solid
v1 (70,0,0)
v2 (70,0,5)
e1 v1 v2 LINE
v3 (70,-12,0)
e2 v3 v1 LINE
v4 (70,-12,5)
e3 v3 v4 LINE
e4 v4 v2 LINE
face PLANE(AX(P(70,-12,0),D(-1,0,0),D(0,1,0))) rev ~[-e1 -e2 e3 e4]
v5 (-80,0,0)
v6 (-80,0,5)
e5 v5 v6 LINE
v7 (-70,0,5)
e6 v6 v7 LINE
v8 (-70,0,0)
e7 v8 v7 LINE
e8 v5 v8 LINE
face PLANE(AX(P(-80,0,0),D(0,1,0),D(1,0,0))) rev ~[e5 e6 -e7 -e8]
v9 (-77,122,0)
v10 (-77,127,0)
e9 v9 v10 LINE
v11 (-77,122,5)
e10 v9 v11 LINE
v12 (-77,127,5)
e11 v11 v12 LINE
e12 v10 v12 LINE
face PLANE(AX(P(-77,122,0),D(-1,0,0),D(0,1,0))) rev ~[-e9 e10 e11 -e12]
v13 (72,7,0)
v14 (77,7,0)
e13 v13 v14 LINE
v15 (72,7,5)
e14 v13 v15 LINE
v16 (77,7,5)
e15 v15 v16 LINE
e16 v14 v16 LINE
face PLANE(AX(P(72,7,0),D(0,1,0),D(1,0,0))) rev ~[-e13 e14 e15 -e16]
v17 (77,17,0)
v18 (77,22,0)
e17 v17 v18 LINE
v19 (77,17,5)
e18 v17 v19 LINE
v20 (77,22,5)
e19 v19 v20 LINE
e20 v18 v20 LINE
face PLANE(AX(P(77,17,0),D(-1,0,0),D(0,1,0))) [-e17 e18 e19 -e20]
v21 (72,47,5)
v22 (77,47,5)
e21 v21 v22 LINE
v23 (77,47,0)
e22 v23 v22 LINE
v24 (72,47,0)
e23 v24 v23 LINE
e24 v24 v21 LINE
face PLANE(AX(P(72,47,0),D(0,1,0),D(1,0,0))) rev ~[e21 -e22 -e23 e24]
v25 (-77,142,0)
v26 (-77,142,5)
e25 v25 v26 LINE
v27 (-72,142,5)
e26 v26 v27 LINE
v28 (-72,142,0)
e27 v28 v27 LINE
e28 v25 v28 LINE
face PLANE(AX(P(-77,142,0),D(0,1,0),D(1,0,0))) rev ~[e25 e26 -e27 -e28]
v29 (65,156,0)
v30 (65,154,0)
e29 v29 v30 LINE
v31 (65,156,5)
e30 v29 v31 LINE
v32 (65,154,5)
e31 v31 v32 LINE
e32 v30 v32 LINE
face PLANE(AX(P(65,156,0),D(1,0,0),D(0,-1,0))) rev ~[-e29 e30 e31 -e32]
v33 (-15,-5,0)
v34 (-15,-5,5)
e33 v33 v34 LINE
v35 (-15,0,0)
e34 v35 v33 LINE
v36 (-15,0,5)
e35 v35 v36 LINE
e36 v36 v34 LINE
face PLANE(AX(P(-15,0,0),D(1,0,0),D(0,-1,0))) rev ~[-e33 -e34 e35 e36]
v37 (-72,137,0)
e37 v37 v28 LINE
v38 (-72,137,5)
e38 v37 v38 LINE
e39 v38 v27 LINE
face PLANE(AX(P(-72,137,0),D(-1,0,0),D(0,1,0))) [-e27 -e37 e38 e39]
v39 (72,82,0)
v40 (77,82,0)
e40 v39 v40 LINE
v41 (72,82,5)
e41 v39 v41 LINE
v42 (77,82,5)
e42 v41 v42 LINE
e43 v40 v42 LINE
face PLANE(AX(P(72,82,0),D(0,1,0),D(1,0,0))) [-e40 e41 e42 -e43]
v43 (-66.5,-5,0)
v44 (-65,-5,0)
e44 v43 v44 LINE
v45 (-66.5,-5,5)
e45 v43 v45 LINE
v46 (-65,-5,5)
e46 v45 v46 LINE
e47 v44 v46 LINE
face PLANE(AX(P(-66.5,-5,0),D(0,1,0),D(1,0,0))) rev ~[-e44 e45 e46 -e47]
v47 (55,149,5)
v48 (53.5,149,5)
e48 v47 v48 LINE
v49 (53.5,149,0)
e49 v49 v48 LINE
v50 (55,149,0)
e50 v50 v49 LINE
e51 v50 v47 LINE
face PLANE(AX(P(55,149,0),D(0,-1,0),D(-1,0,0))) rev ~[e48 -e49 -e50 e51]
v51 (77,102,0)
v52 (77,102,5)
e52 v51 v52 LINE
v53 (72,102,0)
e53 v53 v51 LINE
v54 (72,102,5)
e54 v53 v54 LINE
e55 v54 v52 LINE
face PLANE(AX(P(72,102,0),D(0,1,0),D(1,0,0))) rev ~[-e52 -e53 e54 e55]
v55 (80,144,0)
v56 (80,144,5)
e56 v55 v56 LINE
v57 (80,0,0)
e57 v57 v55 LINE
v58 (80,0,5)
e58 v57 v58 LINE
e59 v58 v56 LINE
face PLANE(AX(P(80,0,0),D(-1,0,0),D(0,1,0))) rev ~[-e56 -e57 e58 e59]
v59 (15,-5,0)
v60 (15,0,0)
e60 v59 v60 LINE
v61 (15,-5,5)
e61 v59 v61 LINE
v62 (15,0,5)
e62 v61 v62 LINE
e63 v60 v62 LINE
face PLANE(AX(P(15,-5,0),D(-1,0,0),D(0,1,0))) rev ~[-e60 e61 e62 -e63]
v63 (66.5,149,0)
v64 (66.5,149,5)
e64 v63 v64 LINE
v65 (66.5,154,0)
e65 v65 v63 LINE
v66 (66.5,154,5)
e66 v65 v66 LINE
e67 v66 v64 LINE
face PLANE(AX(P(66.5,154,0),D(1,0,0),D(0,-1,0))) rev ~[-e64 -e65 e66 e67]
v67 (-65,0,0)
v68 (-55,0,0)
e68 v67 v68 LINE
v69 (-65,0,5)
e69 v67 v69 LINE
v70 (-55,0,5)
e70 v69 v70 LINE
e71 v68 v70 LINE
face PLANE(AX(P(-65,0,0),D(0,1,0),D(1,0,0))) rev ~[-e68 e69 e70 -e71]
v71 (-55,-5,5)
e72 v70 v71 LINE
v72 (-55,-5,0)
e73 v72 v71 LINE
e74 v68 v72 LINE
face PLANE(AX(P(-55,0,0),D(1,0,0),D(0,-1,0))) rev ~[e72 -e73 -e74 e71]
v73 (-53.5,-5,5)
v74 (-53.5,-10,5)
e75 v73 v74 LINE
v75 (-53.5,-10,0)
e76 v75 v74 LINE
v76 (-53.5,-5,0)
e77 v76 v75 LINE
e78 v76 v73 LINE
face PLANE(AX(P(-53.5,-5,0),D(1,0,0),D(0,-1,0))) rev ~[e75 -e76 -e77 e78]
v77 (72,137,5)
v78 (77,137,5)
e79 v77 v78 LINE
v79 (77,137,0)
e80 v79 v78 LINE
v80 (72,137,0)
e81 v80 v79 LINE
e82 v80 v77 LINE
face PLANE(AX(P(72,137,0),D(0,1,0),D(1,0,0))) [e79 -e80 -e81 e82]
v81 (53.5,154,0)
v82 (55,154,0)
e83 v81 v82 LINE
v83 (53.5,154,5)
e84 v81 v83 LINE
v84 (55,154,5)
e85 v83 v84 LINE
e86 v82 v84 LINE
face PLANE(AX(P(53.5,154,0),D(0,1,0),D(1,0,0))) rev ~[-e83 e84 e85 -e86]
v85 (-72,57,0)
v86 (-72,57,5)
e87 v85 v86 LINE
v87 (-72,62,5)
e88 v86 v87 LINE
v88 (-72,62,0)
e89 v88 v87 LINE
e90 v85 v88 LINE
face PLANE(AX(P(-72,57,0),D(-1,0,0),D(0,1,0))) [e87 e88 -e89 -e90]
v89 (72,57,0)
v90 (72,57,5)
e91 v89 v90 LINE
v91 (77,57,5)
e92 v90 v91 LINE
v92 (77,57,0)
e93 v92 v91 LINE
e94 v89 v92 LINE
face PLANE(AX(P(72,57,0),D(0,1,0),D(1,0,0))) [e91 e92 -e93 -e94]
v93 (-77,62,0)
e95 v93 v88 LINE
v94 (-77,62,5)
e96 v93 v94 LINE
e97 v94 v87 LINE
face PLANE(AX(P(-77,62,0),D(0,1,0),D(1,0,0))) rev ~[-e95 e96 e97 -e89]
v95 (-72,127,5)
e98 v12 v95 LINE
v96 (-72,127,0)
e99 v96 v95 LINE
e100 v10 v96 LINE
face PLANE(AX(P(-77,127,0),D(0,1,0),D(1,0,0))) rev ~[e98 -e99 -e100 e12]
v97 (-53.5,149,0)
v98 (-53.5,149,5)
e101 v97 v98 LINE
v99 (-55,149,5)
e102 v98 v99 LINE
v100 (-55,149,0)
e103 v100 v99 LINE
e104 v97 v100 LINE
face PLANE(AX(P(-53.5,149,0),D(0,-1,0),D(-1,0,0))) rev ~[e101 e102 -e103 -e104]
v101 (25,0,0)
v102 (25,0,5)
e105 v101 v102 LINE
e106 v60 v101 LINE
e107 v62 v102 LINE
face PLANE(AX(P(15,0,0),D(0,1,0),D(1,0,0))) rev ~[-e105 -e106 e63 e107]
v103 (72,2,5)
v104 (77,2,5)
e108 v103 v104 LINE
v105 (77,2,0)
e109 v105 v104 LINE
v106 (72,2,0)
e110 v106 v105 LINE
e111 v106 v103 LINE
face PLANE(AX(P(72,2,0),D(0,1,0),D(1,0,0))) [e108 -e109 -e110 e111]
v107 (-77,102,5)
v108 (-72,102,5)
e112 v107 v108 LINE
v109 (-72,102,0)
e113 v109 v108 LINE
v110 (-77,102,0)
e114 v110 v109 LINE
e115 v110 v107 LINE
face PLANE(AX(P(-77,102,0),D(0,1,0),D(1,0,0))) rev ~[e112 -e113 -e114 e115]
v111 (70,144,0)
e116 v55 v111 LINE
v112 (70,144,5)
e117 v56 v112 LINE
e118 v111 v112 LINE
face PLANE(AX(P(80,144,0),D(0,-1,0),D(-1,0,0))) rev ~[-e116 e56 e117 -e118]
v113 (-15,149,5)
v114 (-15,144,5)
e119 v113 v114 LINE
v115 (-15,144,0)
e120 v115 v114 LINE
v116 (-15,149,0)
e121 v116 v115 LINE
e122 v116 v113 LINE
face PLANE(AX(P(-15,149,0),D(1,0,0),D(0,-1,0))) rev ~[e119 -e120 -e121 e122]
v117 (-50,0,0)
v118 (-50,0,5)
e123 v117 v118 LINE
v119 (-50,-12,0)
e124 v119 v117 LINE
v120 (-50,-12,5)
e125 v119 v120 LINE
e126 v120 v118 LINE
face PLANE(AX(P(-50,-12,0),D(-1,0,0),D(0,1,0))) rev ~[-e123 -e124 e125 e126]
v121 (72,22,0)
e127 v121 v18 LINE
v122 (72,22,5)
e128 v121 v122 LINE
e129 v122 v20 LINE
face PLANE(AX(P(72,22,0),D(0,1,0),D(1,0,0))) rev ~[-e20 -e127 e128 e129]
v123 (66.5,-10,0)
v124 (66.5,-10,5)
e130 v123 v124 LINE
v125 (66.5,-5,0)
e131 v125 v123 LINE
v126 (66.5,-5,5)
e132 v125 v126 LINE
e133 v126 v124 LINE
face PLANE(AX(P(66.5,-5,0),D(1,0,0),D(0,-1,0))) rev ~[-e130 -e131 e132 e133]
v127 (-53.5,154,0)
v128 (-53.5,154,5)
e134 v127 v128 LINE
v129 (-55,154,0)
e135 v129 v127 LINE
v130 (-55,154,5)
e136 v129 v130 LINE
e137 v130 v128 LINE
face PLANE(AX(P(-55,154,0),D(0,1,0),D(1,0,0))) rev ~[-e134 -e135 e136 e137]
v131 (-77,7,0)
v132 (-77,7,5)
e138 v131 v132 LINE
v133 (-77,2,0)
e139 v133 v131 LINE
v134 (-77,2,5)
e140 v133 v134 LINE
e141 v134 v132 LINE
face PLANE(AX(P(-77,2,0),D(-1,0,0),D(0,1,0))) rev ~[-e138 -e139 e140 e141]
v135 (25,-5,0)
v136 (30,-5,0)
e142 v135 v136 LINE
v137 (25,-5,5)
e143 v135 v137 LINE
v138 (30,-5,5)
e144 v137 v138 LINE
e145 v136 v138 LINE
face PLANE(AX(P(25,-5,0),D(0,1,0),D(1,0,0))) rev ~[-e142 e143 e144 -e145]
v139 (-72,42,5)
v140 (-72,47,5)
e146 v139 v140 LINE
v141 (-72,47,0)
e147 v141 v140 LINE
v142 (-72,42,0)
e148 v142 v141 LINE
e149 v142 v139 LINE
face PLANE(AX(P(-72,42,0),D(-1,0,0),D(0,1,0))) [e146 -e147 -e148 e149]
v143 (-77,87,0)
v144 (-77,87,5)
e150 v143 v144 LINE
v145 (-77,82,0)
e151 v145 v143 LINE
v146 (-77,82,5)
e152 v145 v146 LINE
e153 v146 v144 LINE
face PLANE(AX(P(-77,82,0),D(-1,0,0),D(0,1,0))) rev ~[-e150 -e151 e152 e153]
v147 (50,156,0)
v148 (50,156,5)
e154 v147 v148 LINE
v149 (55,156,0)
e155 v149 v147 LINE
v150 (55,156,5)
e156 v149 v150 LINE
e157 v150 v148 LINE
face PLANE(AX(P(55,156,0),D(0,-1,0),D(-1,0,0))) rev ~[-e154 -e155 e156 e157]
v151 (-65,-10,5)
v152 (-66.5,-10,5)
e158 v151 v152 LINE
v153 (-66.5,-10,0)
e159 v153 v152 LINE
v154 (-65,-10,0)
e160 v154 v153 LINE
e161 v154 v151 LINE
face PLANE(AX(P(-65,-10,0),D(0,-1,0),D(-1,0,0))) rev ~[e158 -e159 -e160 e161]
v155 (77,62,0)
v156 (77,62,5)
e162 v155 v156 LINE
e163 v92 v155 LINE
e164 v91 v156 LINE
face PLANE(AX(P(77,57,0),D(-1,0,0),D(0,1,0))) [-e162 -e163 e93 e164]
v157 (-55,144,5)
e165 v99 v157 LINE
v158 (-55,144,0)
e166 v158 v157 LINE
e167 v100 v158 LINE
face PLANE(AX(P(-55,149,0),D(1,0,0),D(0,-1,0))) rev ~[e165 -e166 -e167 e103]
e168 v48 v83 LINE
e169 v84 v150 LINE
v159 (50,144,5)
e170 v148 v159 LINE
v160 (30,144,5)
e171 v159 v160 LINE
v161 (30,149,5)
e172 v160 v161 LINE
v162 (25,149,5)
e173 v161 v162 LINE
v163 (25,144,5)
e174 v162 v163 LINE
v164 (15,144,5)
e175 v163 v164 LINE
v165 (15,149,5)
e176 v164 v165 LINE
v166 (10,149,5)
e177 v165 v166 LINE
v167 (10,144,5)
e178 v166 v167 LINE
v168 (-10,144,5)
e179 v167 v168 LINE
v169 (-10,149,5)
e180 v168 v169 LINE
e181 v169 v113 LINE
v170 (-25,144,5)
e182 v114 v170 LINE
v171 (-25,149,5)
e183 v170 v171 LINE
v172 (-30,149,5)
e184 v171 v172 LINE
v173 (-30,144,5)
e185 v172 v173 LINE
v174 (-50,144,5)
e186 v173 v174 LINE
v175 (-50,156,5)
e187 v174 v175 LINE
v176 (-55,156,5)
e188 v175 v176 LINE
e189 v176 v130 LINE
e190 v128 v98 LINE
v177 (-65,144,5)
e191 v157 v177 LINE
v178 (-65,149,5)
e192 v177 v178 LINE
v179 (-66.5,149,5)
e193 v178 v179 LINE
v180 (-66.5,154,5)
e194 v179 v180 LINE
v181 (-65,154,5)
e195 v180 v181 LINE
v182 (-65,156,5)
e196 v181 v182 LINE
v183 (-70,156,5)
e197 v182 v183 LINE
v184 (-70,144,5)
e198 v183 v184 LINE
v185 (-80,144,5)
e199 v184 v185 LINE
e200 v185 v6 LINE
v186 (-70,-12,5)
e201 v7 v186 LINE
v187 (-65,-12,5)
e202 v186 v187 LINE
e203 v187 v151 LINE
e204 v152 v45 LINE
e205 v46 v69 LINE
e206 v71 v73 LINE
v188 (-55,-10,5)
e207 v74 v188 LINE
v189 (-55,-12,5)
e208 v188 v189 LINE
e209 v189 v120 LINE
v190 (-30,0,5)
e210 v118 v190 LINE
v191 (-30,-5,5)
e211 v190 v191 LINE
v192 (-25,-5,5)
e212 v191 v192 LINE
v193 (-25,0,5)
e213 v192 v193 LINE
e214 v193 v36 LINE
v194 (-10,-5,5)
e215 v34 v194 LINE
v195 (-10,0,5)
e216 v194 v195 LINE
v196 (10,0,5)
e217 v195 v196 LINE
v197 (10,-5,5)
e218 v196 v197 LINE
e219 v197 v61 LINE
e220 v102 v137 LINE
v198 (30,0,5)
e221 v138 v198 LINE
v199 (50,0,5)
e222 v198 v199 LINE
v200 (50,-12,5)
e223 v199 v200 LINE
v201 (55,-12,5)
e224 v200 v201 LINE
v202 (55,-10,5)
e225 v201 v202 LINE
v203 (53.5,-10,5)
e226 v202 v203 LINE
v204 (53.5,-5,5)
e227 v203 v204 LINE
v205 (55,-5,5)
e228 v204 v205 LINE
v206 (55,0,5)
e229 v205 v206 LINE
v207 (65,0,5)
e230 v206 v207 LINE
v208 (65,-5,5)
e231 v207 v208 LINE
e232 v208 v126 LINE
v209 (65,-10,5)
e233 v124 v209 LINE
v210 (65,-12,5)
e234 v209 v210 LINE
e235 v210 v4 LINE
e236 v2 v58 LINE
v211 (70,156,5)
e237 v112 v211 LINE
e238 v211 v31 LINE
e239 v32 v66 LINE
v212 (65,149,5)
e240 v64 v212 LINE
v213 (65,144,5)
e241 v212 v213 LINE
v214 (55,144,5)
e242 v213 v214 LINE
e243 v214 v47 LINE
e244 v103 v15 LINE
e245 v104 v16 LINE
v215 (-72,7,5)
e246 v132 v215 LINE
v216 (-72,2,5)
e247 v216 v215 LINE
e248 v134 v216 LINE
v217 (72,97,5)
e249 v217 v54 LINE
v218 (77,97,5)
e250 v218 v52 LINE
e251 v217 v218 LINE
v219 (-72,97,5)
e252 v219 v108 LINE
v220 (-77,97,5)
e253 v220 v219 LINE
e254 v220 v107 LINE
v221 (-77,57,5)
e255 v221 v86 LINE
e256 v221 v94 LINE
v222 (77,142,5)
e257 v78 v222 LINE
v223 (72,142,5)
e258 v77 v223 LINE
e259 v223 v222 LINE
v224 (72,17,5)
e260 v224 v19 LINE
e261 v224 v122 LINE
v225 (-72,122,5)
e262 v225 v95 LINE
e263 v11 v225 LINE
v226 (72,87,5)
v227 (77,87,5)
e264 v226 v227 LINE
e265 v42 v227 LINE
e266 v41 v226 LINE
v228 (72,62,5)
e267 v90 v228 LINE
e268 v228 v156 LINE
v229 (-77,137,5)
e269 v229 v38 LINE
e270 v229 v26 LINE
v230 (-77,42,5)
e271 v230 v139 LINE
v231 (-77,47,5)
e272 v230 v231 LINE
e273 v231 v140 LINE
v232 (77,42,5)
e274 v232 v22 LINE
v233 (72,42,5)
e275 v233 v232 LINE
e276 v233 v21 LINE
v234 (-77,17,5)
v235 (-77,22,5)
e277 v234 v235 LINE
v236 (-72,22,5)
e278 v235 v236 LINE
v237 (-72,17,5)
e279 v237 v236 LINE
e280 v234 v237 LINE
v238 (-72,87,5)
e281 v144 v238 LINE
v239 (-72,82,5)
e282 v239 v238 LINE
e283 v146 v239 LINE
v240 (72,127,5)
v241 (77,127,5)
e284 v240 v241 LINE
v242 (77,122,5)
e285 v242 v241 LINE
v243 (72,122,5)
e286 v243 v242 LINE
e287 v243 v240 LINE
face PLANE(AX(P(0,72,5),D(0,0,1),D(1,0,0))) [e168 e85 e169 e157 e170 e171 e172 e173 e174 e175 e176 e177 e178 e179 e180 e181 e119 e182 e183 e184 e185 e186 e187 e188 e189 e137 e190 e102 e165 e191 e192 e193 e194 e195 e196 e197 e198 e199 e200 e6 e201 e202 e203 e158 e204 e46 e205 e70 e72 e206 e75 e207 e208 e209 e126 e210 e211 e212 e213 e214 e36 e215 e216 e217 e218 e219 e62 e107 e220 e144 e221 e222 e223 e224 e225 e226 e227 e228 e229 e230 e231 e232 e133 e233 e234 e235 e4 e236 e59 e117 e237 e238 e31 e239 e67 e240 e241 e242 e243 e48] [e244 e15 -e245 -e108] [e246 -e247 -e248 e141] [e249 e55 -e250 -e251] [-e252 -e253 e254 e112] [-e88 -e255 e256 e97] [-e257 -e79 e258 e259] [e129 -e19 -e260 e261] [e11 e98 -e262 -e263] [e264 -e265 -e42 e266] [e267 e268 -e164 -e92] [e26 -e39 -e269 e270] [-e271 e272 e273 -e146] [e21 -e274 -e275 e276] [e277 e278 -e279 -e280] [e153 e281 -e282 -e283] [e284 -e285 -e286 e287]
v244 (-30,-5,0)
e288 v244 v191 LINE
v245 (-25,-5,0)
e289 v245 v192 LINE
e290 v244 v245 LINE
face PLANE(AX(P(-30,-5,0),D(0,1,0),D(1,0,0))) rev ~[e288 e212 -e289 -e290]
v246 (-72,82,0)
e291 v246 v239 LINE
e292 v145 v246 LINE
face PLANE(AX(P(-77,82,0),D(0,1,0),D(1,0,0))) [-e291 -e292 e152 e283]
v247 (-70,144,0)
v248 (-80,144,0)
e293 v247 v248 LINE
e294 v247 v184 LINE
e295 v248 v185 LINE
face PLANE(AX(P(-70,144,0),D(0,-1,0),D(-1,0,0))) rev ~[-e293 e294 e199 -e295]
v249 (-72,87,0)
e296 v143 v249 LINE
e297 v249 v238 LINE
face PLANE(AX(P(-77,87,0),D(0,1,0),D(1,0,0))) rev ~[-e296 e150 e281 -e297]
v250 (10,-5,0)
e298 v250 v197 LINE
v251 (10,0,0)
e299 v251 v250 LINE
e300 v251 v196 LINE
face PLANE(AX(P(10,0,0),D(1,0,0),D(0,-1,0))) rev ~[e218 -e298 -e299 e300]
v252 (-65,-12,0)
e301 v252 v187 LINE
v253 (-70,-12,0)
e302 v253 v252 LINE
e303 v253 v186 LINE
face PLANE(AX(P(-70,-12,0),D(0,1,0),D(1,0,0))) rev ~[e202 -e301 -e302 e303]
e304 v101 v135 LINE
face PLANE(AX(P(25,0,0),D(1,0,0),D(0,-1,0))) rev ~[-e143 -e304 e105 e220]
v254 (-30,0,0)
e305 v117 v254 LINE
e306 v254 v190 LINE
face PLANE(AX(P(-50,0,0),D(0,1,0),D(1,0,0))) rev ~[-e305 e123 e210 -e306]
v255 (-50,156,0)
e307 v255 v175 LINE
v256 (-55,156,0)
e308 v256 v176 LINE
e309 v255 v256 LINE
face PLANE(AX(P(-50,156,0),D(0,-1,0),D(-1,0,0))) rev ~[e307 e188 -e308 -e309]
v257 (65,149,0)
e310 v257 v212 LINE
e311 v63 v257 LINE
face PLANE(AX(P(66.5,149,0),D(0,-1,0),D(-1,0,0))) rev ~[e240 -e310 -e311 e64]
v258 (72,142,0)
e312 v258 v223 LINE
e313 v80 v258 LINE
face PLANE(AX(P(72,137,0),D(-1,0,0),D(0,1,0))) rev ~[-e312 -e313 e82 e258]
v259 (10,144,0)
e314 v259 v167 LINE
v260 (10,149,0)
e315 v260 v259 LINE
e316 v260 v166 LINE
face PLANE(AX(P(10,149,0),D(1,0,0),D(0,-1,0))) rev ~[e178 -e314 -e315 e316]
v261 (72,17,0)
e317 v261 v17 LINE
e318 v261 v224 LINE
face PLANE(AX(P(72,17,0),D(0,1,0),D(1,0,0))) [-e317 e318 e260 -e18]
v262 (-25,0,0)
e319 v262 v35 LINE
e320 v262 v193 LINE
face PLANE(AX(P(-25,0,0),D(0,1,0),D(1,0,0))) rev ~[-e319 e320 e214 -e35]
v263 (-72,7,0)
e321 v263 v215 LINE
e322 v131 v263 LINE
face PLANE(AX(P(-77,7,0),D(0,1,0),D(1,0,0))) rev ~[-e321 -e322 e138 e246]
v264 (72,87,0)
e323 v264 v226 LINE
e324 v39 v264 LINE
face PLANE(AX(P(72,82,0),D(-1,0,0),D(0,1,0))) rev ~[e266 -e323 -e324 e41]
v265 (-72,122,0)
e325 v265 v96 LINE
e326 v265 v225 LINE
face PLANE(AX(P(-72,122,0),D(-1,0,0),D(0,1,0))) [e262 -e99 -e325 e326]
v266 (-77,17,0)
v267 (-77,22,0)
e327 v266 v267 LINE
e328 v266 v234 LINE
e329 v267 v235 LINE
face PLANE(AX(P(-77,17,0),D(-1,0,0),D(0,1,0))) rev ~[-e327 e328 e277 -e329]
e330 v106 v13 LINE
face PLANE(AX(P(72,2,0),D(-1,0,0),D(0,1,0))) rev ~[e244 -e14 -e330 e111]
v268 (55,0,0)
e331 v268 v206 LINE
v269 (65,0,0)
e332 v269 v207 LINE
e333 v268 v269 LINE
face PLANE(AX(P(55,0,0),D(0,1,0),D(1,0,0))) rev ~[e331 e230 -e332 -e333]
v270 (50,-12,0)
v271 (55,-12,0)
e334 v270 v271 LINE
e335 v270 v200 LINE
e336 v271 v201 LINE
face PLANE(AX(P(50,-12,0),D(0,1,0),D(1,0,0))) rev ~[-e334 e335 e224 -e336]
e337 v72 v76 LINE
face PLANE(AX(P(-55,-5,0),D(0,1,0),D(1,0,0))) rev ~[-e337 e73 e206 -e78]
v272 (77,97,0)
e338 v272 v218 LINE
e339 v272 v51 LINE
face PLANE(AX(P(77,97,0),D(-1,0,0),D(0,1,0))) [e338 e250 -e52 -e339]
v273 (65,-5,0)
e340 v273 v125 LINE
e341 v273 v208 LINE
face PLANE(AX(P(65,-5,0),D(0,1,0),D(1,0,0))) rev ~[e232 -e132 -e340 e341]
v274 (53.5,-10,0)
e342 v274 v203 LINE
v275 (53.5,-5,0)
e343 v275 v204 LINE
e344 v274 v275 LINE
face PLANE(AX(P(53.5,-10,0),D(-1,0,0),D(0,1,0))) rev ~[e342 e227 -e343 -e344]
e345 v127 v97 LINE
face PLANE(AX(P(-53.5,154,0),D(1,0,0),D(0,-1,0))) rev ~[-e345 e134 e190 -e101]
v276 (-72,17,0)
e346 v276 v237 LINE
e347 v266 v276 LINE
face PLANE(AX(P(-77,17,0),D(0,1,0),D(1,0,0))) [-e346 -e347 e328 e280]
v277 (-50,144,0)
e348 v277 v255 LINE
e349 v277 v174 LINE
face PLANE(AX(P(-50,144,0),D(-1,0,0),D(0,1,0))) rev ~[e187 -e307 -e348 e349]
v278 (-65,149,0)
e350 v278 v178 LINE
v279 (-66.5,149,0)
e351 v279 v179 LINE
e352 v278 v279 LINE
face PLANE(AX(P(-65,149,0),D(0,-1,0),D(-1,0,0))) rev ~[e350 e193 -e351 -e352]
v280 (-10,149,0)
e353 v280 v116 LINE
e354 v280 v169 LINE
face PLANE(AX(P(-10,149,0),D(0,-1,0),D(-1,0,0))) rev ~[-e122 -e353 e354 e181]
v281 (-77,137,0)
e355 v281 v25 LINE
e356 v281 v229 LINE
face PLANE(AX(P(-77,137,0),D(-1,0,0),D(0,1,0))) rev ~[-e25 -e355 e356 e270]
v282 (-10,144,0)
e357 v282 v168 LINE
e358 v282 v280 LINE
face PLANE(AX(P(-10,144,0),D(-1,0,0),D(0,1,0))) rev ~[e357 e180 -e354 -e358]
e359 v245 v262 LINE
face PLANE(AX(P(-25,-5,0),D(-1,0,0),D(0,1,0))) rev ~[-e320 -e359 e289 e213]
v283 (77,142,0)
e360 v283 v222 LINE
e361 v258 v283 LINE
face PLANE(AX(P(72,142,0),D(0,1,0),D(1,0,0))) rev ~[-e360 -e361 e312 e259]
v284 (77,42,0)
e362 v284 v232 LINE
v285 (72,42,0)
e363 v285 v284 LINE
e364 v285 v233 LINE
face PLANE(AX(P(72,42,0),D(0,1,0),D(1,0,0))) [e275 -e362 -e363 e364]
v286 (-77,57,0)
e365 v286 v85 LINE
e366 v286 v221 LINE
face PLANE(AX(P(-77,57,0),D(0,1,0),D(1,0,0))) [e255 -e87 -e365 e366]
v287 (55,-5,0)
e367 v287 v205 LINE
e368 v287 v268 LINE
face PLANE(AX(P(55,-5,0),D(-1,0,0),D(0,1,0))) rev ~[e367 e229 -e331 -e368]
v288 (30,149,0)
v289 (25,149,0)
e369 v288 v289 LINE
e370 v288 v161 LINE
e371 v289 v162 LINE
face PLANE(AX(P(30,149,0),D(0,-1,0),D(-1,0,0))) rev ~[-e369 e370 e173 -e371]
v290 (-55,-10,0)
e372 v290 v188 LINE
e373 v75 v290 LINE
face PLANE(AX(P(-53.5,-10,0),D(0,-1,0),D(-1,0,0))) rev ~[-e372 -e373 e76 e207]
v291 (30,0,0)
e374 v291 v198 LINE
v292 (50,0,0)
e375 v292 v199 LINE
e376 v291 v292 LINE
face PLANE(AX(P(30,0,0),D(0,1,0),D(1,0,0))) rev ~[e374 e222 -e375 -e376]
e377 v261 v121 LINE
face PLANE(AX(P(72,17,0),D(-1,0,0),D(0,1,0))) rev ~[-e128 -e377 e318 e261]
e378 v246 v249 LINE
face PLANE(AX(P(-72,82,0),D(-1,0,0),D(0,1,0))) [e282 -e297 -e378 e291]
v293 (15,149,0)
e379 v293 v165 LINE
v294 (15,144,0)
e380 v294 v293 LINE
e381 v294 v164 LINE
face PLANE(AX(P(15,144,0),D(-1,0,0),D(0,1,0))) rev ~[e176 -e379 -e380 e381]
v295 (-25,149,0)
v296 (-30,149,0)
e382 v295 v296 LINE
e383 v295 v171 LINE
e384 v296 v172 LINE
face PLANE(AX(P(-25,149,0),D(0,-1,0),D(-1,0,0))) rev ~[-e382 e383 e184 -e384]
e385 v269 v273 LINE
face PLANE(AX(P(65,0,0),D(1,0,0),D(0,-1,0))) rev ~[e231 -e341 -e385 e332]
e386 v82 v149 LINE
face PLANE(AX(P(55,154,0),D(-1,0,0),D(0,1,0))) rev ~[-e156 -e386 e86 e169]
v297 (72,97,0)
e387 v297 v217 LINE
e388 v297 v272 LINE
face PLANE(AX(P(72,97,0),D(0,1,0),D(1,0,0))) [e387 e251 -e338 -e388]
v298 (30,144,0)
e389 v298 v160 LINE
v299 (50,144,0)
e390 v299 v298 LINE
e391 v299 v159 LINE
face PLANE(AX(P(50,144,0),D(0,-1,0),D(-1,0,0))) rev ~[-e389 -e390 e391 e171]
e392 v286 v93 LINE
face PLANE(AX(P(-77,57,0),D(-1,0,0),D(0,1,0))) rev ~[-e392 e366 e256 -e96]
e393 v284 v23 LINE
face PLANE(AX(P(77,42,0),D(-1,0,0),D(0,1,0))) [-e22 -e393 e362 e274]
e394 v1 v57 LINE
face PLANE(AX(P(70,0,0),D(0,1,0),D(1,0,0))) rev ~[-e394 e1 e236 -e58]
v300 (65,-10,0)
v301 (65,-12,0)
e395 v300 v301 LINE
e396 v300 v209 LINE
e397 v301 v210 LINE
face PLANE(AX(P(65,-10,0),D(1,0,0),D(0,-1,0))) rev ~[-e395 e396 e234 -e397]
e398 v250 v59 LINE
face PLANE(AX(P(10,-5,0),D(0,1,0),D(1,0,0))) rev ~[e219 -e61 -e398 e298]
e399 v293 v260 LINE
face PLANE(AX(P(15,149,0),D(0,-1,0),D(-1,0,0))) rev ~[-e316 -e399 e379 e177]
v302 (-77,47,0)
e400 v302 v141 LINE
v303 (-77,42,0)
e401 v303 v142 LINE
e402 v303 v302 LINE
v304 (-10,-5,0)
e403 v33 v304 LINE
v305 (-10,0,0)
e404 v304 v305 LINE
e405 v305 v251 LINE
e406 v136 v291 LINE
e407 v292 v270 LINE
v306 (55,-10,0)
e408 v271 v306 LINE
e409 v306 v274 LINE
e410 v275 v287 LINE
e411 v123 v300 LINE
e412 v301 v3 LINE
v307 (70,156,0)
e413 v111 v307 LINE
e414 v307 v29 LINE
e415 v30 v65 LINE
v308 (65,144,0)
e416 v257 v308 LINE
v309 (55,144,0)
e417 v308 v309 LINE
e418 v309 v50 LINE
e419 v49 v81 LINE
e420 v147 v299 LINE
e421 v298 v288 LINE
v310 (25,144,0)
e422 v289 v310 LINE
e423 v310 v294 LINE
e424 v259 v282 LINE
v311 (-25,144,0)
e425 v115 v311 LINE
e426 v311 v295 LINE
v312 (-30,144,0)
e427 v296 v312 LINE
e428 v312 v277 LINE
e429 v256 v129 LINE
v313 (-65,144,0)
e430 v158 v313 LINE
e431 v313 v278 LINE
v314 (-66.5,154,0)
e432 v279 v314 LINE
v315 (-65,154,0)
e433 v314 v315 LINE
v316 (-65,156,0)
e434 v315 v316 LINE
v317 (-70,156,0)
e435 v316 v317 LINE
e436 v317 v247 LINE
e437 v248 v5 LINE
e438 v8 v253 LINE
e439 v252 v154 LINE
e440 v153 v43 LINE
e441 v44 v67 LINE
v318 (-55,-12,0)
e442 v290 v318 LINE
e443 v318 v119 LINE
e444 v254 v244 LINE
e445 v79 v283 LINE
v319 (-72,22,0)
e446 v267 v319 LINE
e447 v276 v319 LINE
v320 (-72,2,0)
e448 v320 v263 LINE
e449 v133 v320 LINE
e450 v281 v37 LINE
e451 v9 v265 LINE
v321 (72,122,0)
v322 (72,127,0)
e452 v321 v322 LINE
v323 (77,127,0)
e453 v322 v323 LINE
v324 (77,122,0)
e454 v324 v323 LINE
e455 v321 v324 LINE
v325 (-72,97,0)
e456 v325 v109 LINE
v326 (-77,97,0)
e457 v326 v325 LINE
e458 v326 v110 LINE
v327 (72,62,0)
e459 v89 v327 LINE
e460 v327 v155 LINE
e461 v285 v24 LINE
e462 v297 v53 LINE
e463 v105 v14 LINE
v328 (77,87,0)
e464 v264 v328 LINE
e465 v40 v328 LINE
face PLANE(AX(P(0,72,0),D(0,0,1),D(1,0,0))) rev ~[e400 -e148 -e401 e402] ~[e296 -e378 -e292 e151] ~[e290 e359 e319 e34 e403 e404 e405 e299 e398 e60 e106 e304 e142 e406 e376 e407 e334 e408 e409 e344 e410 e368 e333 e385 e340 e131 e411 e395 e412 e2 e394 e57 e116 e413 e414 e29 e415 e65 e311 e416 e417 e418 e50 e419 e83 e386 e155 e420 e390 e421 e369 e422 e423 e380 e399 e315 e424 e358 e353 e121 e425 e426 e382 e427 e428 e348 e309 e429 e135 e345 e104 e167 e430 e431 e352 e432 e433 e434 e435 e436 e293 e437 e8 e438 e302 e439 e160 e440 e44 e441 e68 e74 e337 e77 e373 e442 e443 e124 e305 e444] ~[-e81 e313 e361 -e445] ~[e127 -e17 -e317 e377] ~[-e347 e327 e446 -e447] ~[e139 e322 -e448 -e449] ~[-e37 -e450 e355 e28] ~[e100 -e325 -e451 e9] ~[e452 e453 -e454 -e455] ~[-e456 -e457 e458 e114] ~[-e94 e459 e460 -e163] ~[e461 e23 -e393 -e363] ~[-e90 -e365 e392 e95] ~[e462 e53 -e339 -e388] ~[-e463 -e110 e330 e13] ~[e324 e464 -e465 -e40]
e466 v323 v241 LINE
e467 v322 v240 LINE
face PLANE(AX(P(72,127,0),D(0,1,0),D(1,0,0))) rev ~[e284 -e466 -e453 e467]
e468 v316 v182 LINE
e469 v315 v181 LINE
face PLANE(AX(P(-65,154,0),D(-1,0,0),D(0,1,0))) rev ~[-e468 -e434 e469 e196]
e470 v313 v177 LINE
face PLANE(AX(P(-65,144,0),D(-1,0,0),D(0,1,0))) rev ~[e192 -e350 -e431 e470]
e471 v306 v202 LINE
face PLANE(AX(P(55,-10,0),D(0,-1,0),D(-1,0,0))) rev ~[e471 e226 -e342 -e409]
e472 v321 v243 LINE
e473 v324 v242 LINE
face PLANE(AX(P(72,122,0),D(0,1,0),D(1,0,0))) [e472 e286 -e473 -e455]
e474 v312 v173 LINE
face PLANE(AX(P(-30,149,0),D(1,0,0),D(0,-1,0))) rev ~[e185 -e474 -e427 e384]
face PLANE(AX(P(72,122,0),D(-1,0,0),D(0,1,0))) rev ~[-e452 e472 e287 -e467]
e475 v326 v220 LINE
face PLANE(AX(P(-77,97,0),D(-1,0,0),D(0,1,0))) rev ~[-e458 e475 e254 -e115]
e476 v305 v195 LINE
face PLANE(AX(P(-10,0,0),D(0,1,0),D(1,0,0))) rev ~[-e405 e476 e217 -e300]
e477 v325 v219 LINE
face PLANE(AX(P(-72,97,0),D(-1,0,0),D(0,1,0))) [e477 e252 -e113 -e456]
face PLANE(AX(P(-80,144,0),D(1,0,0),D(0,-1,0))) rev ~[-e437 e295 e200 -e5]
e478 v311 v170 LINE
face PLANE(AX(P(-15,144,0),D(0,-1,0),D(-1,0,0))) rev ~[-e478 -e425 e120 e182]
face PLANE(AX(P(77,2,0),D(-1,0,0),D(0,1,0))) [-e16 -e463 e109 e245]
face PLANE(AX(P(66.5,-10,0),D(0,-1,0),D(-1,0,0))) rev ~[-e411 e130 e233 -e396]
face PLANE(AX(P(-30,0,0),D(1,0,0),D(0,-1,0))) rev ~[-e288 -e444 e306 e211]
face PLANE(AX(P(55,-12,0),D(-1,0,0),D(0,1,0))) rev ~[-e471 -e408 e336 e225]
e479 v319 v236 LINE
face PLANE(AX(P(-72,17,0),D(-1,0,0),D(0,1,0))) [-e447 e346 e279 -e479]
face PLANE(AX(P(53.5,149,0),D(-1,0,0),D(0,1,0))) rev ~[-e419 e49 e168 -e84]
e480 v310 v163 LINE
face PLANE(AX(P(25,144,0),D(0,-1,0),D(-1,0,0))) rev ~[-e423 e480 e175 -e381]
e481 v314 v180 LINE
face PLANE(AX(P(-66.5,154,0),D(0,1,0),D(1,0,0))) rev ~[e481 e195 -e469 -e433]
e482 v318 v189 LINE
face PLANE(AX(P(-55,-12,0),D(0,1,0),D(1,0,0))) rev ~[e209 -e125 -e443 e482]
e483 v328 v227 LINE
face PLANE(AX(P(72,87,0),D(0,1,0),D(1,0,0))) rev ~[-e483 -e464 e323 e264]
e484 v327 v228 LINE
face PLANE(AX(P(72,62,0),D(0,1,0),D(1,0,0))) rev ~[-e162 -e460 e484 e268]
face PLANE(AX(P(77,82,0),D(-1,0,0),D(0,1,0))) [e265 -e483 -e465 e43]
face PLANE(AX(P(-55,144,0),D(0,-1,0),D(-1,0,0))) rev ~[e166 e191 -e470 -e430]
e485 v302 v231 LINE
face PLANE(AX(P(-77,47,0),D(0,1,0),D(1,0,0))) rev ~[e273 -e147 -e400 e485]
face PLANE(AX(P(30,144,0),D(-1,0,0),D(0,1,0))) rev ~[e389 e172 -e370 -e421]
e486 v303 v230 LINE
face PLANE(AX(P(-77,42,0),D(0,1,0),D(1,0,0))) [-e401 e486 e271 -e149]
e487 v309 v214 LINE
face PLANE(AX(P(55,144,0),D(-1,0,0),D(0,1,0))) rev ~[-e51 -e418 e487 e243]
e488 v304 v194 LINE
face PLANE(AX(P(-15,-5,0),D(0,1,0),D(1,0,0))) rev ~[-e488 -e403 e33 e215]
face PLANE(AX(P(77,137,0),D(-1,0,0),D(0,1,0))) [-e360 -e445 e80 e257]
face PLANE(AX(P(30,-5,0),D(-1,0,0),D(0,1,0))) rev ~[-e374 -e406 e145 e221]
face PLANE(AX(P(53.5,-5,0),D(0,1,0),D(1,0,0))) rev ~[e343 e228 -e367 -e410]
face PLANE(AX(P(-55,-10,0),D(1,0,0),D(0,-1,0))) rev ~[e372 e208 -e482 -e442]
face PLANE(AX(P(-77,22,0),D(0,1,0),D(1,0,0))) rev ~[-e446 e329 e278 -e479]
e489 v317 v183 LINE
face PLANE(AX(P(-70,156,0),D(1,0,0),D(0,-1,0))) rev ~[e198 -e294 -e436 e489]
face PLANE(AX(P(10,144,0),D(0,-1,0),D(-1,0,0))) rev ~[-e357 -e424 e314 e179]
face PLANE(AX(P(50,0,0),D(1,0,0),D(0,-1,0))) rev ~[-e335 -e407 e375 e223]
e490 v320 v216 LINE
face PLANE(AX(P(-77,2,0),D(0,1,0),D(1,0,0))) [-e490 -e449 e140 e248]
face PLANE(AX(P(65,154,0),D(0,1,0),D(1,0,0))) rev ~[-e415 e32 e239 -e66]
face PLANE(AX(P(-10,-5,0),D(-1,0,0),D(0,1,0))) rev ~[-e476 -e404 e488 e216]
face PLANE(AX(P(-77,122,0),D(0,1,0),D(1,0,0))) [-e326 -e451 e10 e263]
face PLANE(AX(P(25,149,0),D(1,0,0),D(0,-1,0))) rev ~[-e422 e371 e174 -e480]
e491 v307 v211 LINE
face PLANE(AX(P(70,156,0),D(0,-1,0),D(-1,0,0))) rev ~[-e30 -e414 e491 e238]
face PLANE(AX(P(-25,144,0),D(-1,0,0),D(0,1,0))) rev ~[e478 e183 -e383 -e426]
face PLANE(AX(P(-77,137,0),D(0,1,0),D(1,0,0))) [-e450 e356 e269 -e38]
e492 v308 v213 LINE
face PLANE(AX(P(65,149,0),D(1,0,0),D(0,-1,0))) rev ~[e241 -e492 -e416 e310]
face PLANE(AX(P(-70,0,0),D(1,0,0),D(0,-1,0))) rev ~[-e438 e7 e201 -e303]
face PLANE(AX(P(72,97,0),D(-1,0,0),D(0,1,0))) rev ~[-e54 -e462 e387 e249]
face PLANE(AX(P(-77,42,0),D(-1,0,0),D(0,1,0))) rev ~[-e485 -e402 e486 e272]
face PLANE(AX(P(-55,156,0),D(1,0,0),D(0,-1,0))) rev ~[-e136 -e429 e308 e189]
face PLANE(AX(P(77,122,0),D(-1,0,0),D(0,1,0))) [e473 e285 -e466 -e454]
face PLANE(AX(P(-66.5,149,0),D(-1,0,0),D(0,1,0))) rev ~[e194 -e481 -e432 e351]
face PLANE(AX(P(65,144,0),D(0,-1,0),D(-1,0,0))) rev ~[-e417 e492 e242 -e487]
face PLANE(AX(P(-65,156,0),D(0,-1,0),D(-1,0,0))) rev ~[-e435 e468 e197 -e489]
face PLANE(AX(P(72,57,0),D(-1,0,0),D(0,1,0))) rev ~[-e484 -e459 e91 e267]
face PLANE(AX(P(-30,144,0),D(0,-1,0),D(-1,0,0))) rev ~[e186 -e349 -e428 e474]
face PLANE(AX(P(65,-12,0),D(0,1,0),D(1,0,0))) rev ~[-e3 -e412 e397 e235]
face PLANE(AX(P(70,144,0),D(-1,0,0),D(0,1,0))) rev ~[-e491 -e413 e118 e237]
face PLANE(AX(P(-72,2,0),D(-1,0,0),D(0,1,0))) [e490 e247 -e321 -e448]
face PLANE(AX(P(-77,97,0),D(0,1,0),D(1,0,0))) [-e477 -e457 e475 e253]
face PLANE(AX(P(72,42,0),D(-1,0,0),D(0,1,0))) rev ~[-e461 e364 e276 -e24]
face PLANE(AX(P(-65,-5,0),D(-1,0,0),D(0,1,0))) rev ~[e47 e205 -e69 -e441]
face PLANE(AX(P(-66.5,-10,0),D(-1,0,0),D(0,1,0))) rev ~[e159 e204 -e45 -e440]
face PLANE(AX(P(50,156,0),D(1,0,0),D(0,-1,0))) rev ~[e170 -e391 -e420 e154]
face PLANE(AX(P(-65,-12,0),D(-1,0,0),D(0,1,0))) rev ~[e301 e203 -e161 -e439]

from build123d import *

# Parameters (mm, degrees)
ESQUISSE1_W        = 5
ESQUISSE1_H        = 5
BOSS_EXTRU_1_DEPTH = 5


with BuildPart() as part:
    # Esquisse1 → Boss.-Extru.1 (new body)
    with BuildSketch(Plane.XY):
        Polygon((-70, 144), (-80, 144), (-80, 0), (-70, 0), (-70, -5), (-70, -12), (-65, -12), (-65, -10), (-66.5, -10), (-66.5, -5), (-65, -5), (-65, 0), (-60, 0), (-55, 0), (-55, -5), (-53.5, -5), (-53.5, -10), (-55, -10), (-55, -12), (-50, -12), (-50, -5), (-50, 0), (-30, 0), (-30, -5), (-25, -5), (-25, 0), (-20, 0), (-15, 0), (-15, -5), (-10, -5), (-10, 0), (10, 0), (10, -5), (15, -5), (15, 0), (20, 0), (25, 0), (25, -5), (30, -5), (30, 0), (50, 0), (50, -5), (50, -12), (55, -12), (55, -10), (53.5, -10), (53.5, -5), (55, -5), (55, 0), (60, 0), (65, 0), (65, -5), (66.5, -5), (66.5, -10), (65, -10), (65, -12), (70, -12), (70, -5), (70, 0), (80, 0), (80, 144), (70, 144), (70, 149), (70, 156), (65, 156), (65, 154), (66.5, 154), (66.5, 149), (65, 149), (65, 144), (60, 144), (55, 144), (55, 149), (53.5, 149), (53.5, 154), (55, 154), (55, 156), (50, 156), (50, 149), (50, 144), (30, 144), (30, 149), (25, 149), (25, 144), (20, 144), (15, 144), (15, 149), (10, 149), (10, 144), (-10, 144), (-10, 149), (-15, 149), (-15, 144), (-20, 144), (-25, 144), (-25, 149), (-30, 149), (-30, 144), (-50, 144), (-50, 149), (-50, 156), (-55, 156), (-55, 154), (-53.5, 154), (-53.5, 149), (-55, 149), (-55, 144), (-60, 144), (-65, 144), (-65, 149), (-66.5, 149), (-66.5, 154), (-65, 154), (-65, 156), (-70, 156), (-70, 149), align=None)
        with Locations((-74.5, 4.5)):
            Rectangle(ESQUISSE1_W, ESQUISSE1_H, mode=Mode.SUBTRACT)
        with Locations((-74.5, 19.5)):
            Rectangle(ESQUISSE1_W, ESQUISSE1_H, mode=Mode.SUBTRACT)
        with Locations((-74.5, 44.5)):
            Rectangle(ESQUISSE1_W, ESQUISSE1_H, mode=Mode.SUBTRACT)
        with Locations((-74.5, 59.5)):
            Rectangle(ESQUISSE1_W, ESQUISSE1_H, mode=Mode.SUBTRACT)
        with Locations((74.5, 4.5)):
            Rectangle(ESQUISSE1_W, ESQUISSE1_H, mode=Mode.SUBTRACT)
        with Locations((74.5, 19.5)):
            Rectangle(ESQUISSE1_W, ESQUISSE1_H, mode=Mode.SUBTRACT)
        with Locations((74.5, 44.5)):
            Rectangle(ESQUISSE1_W, ESQUISSE1_H, mode=Mode.SUBTRACT)
        with Locations((74.5, 59.5)):
            Rectangle(ESQUISSE1_W, ESQUISSE1_H, mode=Mode.SUBTRACT)
        with Locations((-74.5, 84.5)):
            Rectangle(ESQUISSE1_W, ESQUISSE1_H, mode=Mode.SUBTRACT)
        with Locations((-74.5, 99.5)):
            Rectangle(ESQUISSE1_W, ESQUISSE1_H, mode=Mode.SUBTRACT)
        with Locations((-74.5, 124.5)):
            Rectangle(ESQUISSE1_W, ESQUISSE1_H, mode=Mode.SUBTRACT)
        with Locations((-74.5, 139.5)):
            Rectangle(ESQUISSE1_W, ESQUISSE1_H, mode=Mode.SUBTRACT)
        with Locations((74.5, 84.5)):
            Rectangle(ESQUISSE1_W, ESQUISSE1_H, mode=Mode.SUBTRACT)
        with Locations((74.5, 99.5)):
            Rectangle(ESQUISSE1_W, ESQUISSE1_H, mode=Mode.SUBTRACT)
        with Locations((74.5, 124.5)):
            Rectangle(ESQUISSE1_W, ESQUISSE1_H, mode=Mode.SUBTRACT)
        with Locations((74.5, 139.5)):
            Rectangle(ESQUISSE1_W, ESQUISSE1_H, mode=Mode.SUBTRACT)
    extrude(amount=BOSS_EXTRU_1_DEPTH)


solid = part.part
